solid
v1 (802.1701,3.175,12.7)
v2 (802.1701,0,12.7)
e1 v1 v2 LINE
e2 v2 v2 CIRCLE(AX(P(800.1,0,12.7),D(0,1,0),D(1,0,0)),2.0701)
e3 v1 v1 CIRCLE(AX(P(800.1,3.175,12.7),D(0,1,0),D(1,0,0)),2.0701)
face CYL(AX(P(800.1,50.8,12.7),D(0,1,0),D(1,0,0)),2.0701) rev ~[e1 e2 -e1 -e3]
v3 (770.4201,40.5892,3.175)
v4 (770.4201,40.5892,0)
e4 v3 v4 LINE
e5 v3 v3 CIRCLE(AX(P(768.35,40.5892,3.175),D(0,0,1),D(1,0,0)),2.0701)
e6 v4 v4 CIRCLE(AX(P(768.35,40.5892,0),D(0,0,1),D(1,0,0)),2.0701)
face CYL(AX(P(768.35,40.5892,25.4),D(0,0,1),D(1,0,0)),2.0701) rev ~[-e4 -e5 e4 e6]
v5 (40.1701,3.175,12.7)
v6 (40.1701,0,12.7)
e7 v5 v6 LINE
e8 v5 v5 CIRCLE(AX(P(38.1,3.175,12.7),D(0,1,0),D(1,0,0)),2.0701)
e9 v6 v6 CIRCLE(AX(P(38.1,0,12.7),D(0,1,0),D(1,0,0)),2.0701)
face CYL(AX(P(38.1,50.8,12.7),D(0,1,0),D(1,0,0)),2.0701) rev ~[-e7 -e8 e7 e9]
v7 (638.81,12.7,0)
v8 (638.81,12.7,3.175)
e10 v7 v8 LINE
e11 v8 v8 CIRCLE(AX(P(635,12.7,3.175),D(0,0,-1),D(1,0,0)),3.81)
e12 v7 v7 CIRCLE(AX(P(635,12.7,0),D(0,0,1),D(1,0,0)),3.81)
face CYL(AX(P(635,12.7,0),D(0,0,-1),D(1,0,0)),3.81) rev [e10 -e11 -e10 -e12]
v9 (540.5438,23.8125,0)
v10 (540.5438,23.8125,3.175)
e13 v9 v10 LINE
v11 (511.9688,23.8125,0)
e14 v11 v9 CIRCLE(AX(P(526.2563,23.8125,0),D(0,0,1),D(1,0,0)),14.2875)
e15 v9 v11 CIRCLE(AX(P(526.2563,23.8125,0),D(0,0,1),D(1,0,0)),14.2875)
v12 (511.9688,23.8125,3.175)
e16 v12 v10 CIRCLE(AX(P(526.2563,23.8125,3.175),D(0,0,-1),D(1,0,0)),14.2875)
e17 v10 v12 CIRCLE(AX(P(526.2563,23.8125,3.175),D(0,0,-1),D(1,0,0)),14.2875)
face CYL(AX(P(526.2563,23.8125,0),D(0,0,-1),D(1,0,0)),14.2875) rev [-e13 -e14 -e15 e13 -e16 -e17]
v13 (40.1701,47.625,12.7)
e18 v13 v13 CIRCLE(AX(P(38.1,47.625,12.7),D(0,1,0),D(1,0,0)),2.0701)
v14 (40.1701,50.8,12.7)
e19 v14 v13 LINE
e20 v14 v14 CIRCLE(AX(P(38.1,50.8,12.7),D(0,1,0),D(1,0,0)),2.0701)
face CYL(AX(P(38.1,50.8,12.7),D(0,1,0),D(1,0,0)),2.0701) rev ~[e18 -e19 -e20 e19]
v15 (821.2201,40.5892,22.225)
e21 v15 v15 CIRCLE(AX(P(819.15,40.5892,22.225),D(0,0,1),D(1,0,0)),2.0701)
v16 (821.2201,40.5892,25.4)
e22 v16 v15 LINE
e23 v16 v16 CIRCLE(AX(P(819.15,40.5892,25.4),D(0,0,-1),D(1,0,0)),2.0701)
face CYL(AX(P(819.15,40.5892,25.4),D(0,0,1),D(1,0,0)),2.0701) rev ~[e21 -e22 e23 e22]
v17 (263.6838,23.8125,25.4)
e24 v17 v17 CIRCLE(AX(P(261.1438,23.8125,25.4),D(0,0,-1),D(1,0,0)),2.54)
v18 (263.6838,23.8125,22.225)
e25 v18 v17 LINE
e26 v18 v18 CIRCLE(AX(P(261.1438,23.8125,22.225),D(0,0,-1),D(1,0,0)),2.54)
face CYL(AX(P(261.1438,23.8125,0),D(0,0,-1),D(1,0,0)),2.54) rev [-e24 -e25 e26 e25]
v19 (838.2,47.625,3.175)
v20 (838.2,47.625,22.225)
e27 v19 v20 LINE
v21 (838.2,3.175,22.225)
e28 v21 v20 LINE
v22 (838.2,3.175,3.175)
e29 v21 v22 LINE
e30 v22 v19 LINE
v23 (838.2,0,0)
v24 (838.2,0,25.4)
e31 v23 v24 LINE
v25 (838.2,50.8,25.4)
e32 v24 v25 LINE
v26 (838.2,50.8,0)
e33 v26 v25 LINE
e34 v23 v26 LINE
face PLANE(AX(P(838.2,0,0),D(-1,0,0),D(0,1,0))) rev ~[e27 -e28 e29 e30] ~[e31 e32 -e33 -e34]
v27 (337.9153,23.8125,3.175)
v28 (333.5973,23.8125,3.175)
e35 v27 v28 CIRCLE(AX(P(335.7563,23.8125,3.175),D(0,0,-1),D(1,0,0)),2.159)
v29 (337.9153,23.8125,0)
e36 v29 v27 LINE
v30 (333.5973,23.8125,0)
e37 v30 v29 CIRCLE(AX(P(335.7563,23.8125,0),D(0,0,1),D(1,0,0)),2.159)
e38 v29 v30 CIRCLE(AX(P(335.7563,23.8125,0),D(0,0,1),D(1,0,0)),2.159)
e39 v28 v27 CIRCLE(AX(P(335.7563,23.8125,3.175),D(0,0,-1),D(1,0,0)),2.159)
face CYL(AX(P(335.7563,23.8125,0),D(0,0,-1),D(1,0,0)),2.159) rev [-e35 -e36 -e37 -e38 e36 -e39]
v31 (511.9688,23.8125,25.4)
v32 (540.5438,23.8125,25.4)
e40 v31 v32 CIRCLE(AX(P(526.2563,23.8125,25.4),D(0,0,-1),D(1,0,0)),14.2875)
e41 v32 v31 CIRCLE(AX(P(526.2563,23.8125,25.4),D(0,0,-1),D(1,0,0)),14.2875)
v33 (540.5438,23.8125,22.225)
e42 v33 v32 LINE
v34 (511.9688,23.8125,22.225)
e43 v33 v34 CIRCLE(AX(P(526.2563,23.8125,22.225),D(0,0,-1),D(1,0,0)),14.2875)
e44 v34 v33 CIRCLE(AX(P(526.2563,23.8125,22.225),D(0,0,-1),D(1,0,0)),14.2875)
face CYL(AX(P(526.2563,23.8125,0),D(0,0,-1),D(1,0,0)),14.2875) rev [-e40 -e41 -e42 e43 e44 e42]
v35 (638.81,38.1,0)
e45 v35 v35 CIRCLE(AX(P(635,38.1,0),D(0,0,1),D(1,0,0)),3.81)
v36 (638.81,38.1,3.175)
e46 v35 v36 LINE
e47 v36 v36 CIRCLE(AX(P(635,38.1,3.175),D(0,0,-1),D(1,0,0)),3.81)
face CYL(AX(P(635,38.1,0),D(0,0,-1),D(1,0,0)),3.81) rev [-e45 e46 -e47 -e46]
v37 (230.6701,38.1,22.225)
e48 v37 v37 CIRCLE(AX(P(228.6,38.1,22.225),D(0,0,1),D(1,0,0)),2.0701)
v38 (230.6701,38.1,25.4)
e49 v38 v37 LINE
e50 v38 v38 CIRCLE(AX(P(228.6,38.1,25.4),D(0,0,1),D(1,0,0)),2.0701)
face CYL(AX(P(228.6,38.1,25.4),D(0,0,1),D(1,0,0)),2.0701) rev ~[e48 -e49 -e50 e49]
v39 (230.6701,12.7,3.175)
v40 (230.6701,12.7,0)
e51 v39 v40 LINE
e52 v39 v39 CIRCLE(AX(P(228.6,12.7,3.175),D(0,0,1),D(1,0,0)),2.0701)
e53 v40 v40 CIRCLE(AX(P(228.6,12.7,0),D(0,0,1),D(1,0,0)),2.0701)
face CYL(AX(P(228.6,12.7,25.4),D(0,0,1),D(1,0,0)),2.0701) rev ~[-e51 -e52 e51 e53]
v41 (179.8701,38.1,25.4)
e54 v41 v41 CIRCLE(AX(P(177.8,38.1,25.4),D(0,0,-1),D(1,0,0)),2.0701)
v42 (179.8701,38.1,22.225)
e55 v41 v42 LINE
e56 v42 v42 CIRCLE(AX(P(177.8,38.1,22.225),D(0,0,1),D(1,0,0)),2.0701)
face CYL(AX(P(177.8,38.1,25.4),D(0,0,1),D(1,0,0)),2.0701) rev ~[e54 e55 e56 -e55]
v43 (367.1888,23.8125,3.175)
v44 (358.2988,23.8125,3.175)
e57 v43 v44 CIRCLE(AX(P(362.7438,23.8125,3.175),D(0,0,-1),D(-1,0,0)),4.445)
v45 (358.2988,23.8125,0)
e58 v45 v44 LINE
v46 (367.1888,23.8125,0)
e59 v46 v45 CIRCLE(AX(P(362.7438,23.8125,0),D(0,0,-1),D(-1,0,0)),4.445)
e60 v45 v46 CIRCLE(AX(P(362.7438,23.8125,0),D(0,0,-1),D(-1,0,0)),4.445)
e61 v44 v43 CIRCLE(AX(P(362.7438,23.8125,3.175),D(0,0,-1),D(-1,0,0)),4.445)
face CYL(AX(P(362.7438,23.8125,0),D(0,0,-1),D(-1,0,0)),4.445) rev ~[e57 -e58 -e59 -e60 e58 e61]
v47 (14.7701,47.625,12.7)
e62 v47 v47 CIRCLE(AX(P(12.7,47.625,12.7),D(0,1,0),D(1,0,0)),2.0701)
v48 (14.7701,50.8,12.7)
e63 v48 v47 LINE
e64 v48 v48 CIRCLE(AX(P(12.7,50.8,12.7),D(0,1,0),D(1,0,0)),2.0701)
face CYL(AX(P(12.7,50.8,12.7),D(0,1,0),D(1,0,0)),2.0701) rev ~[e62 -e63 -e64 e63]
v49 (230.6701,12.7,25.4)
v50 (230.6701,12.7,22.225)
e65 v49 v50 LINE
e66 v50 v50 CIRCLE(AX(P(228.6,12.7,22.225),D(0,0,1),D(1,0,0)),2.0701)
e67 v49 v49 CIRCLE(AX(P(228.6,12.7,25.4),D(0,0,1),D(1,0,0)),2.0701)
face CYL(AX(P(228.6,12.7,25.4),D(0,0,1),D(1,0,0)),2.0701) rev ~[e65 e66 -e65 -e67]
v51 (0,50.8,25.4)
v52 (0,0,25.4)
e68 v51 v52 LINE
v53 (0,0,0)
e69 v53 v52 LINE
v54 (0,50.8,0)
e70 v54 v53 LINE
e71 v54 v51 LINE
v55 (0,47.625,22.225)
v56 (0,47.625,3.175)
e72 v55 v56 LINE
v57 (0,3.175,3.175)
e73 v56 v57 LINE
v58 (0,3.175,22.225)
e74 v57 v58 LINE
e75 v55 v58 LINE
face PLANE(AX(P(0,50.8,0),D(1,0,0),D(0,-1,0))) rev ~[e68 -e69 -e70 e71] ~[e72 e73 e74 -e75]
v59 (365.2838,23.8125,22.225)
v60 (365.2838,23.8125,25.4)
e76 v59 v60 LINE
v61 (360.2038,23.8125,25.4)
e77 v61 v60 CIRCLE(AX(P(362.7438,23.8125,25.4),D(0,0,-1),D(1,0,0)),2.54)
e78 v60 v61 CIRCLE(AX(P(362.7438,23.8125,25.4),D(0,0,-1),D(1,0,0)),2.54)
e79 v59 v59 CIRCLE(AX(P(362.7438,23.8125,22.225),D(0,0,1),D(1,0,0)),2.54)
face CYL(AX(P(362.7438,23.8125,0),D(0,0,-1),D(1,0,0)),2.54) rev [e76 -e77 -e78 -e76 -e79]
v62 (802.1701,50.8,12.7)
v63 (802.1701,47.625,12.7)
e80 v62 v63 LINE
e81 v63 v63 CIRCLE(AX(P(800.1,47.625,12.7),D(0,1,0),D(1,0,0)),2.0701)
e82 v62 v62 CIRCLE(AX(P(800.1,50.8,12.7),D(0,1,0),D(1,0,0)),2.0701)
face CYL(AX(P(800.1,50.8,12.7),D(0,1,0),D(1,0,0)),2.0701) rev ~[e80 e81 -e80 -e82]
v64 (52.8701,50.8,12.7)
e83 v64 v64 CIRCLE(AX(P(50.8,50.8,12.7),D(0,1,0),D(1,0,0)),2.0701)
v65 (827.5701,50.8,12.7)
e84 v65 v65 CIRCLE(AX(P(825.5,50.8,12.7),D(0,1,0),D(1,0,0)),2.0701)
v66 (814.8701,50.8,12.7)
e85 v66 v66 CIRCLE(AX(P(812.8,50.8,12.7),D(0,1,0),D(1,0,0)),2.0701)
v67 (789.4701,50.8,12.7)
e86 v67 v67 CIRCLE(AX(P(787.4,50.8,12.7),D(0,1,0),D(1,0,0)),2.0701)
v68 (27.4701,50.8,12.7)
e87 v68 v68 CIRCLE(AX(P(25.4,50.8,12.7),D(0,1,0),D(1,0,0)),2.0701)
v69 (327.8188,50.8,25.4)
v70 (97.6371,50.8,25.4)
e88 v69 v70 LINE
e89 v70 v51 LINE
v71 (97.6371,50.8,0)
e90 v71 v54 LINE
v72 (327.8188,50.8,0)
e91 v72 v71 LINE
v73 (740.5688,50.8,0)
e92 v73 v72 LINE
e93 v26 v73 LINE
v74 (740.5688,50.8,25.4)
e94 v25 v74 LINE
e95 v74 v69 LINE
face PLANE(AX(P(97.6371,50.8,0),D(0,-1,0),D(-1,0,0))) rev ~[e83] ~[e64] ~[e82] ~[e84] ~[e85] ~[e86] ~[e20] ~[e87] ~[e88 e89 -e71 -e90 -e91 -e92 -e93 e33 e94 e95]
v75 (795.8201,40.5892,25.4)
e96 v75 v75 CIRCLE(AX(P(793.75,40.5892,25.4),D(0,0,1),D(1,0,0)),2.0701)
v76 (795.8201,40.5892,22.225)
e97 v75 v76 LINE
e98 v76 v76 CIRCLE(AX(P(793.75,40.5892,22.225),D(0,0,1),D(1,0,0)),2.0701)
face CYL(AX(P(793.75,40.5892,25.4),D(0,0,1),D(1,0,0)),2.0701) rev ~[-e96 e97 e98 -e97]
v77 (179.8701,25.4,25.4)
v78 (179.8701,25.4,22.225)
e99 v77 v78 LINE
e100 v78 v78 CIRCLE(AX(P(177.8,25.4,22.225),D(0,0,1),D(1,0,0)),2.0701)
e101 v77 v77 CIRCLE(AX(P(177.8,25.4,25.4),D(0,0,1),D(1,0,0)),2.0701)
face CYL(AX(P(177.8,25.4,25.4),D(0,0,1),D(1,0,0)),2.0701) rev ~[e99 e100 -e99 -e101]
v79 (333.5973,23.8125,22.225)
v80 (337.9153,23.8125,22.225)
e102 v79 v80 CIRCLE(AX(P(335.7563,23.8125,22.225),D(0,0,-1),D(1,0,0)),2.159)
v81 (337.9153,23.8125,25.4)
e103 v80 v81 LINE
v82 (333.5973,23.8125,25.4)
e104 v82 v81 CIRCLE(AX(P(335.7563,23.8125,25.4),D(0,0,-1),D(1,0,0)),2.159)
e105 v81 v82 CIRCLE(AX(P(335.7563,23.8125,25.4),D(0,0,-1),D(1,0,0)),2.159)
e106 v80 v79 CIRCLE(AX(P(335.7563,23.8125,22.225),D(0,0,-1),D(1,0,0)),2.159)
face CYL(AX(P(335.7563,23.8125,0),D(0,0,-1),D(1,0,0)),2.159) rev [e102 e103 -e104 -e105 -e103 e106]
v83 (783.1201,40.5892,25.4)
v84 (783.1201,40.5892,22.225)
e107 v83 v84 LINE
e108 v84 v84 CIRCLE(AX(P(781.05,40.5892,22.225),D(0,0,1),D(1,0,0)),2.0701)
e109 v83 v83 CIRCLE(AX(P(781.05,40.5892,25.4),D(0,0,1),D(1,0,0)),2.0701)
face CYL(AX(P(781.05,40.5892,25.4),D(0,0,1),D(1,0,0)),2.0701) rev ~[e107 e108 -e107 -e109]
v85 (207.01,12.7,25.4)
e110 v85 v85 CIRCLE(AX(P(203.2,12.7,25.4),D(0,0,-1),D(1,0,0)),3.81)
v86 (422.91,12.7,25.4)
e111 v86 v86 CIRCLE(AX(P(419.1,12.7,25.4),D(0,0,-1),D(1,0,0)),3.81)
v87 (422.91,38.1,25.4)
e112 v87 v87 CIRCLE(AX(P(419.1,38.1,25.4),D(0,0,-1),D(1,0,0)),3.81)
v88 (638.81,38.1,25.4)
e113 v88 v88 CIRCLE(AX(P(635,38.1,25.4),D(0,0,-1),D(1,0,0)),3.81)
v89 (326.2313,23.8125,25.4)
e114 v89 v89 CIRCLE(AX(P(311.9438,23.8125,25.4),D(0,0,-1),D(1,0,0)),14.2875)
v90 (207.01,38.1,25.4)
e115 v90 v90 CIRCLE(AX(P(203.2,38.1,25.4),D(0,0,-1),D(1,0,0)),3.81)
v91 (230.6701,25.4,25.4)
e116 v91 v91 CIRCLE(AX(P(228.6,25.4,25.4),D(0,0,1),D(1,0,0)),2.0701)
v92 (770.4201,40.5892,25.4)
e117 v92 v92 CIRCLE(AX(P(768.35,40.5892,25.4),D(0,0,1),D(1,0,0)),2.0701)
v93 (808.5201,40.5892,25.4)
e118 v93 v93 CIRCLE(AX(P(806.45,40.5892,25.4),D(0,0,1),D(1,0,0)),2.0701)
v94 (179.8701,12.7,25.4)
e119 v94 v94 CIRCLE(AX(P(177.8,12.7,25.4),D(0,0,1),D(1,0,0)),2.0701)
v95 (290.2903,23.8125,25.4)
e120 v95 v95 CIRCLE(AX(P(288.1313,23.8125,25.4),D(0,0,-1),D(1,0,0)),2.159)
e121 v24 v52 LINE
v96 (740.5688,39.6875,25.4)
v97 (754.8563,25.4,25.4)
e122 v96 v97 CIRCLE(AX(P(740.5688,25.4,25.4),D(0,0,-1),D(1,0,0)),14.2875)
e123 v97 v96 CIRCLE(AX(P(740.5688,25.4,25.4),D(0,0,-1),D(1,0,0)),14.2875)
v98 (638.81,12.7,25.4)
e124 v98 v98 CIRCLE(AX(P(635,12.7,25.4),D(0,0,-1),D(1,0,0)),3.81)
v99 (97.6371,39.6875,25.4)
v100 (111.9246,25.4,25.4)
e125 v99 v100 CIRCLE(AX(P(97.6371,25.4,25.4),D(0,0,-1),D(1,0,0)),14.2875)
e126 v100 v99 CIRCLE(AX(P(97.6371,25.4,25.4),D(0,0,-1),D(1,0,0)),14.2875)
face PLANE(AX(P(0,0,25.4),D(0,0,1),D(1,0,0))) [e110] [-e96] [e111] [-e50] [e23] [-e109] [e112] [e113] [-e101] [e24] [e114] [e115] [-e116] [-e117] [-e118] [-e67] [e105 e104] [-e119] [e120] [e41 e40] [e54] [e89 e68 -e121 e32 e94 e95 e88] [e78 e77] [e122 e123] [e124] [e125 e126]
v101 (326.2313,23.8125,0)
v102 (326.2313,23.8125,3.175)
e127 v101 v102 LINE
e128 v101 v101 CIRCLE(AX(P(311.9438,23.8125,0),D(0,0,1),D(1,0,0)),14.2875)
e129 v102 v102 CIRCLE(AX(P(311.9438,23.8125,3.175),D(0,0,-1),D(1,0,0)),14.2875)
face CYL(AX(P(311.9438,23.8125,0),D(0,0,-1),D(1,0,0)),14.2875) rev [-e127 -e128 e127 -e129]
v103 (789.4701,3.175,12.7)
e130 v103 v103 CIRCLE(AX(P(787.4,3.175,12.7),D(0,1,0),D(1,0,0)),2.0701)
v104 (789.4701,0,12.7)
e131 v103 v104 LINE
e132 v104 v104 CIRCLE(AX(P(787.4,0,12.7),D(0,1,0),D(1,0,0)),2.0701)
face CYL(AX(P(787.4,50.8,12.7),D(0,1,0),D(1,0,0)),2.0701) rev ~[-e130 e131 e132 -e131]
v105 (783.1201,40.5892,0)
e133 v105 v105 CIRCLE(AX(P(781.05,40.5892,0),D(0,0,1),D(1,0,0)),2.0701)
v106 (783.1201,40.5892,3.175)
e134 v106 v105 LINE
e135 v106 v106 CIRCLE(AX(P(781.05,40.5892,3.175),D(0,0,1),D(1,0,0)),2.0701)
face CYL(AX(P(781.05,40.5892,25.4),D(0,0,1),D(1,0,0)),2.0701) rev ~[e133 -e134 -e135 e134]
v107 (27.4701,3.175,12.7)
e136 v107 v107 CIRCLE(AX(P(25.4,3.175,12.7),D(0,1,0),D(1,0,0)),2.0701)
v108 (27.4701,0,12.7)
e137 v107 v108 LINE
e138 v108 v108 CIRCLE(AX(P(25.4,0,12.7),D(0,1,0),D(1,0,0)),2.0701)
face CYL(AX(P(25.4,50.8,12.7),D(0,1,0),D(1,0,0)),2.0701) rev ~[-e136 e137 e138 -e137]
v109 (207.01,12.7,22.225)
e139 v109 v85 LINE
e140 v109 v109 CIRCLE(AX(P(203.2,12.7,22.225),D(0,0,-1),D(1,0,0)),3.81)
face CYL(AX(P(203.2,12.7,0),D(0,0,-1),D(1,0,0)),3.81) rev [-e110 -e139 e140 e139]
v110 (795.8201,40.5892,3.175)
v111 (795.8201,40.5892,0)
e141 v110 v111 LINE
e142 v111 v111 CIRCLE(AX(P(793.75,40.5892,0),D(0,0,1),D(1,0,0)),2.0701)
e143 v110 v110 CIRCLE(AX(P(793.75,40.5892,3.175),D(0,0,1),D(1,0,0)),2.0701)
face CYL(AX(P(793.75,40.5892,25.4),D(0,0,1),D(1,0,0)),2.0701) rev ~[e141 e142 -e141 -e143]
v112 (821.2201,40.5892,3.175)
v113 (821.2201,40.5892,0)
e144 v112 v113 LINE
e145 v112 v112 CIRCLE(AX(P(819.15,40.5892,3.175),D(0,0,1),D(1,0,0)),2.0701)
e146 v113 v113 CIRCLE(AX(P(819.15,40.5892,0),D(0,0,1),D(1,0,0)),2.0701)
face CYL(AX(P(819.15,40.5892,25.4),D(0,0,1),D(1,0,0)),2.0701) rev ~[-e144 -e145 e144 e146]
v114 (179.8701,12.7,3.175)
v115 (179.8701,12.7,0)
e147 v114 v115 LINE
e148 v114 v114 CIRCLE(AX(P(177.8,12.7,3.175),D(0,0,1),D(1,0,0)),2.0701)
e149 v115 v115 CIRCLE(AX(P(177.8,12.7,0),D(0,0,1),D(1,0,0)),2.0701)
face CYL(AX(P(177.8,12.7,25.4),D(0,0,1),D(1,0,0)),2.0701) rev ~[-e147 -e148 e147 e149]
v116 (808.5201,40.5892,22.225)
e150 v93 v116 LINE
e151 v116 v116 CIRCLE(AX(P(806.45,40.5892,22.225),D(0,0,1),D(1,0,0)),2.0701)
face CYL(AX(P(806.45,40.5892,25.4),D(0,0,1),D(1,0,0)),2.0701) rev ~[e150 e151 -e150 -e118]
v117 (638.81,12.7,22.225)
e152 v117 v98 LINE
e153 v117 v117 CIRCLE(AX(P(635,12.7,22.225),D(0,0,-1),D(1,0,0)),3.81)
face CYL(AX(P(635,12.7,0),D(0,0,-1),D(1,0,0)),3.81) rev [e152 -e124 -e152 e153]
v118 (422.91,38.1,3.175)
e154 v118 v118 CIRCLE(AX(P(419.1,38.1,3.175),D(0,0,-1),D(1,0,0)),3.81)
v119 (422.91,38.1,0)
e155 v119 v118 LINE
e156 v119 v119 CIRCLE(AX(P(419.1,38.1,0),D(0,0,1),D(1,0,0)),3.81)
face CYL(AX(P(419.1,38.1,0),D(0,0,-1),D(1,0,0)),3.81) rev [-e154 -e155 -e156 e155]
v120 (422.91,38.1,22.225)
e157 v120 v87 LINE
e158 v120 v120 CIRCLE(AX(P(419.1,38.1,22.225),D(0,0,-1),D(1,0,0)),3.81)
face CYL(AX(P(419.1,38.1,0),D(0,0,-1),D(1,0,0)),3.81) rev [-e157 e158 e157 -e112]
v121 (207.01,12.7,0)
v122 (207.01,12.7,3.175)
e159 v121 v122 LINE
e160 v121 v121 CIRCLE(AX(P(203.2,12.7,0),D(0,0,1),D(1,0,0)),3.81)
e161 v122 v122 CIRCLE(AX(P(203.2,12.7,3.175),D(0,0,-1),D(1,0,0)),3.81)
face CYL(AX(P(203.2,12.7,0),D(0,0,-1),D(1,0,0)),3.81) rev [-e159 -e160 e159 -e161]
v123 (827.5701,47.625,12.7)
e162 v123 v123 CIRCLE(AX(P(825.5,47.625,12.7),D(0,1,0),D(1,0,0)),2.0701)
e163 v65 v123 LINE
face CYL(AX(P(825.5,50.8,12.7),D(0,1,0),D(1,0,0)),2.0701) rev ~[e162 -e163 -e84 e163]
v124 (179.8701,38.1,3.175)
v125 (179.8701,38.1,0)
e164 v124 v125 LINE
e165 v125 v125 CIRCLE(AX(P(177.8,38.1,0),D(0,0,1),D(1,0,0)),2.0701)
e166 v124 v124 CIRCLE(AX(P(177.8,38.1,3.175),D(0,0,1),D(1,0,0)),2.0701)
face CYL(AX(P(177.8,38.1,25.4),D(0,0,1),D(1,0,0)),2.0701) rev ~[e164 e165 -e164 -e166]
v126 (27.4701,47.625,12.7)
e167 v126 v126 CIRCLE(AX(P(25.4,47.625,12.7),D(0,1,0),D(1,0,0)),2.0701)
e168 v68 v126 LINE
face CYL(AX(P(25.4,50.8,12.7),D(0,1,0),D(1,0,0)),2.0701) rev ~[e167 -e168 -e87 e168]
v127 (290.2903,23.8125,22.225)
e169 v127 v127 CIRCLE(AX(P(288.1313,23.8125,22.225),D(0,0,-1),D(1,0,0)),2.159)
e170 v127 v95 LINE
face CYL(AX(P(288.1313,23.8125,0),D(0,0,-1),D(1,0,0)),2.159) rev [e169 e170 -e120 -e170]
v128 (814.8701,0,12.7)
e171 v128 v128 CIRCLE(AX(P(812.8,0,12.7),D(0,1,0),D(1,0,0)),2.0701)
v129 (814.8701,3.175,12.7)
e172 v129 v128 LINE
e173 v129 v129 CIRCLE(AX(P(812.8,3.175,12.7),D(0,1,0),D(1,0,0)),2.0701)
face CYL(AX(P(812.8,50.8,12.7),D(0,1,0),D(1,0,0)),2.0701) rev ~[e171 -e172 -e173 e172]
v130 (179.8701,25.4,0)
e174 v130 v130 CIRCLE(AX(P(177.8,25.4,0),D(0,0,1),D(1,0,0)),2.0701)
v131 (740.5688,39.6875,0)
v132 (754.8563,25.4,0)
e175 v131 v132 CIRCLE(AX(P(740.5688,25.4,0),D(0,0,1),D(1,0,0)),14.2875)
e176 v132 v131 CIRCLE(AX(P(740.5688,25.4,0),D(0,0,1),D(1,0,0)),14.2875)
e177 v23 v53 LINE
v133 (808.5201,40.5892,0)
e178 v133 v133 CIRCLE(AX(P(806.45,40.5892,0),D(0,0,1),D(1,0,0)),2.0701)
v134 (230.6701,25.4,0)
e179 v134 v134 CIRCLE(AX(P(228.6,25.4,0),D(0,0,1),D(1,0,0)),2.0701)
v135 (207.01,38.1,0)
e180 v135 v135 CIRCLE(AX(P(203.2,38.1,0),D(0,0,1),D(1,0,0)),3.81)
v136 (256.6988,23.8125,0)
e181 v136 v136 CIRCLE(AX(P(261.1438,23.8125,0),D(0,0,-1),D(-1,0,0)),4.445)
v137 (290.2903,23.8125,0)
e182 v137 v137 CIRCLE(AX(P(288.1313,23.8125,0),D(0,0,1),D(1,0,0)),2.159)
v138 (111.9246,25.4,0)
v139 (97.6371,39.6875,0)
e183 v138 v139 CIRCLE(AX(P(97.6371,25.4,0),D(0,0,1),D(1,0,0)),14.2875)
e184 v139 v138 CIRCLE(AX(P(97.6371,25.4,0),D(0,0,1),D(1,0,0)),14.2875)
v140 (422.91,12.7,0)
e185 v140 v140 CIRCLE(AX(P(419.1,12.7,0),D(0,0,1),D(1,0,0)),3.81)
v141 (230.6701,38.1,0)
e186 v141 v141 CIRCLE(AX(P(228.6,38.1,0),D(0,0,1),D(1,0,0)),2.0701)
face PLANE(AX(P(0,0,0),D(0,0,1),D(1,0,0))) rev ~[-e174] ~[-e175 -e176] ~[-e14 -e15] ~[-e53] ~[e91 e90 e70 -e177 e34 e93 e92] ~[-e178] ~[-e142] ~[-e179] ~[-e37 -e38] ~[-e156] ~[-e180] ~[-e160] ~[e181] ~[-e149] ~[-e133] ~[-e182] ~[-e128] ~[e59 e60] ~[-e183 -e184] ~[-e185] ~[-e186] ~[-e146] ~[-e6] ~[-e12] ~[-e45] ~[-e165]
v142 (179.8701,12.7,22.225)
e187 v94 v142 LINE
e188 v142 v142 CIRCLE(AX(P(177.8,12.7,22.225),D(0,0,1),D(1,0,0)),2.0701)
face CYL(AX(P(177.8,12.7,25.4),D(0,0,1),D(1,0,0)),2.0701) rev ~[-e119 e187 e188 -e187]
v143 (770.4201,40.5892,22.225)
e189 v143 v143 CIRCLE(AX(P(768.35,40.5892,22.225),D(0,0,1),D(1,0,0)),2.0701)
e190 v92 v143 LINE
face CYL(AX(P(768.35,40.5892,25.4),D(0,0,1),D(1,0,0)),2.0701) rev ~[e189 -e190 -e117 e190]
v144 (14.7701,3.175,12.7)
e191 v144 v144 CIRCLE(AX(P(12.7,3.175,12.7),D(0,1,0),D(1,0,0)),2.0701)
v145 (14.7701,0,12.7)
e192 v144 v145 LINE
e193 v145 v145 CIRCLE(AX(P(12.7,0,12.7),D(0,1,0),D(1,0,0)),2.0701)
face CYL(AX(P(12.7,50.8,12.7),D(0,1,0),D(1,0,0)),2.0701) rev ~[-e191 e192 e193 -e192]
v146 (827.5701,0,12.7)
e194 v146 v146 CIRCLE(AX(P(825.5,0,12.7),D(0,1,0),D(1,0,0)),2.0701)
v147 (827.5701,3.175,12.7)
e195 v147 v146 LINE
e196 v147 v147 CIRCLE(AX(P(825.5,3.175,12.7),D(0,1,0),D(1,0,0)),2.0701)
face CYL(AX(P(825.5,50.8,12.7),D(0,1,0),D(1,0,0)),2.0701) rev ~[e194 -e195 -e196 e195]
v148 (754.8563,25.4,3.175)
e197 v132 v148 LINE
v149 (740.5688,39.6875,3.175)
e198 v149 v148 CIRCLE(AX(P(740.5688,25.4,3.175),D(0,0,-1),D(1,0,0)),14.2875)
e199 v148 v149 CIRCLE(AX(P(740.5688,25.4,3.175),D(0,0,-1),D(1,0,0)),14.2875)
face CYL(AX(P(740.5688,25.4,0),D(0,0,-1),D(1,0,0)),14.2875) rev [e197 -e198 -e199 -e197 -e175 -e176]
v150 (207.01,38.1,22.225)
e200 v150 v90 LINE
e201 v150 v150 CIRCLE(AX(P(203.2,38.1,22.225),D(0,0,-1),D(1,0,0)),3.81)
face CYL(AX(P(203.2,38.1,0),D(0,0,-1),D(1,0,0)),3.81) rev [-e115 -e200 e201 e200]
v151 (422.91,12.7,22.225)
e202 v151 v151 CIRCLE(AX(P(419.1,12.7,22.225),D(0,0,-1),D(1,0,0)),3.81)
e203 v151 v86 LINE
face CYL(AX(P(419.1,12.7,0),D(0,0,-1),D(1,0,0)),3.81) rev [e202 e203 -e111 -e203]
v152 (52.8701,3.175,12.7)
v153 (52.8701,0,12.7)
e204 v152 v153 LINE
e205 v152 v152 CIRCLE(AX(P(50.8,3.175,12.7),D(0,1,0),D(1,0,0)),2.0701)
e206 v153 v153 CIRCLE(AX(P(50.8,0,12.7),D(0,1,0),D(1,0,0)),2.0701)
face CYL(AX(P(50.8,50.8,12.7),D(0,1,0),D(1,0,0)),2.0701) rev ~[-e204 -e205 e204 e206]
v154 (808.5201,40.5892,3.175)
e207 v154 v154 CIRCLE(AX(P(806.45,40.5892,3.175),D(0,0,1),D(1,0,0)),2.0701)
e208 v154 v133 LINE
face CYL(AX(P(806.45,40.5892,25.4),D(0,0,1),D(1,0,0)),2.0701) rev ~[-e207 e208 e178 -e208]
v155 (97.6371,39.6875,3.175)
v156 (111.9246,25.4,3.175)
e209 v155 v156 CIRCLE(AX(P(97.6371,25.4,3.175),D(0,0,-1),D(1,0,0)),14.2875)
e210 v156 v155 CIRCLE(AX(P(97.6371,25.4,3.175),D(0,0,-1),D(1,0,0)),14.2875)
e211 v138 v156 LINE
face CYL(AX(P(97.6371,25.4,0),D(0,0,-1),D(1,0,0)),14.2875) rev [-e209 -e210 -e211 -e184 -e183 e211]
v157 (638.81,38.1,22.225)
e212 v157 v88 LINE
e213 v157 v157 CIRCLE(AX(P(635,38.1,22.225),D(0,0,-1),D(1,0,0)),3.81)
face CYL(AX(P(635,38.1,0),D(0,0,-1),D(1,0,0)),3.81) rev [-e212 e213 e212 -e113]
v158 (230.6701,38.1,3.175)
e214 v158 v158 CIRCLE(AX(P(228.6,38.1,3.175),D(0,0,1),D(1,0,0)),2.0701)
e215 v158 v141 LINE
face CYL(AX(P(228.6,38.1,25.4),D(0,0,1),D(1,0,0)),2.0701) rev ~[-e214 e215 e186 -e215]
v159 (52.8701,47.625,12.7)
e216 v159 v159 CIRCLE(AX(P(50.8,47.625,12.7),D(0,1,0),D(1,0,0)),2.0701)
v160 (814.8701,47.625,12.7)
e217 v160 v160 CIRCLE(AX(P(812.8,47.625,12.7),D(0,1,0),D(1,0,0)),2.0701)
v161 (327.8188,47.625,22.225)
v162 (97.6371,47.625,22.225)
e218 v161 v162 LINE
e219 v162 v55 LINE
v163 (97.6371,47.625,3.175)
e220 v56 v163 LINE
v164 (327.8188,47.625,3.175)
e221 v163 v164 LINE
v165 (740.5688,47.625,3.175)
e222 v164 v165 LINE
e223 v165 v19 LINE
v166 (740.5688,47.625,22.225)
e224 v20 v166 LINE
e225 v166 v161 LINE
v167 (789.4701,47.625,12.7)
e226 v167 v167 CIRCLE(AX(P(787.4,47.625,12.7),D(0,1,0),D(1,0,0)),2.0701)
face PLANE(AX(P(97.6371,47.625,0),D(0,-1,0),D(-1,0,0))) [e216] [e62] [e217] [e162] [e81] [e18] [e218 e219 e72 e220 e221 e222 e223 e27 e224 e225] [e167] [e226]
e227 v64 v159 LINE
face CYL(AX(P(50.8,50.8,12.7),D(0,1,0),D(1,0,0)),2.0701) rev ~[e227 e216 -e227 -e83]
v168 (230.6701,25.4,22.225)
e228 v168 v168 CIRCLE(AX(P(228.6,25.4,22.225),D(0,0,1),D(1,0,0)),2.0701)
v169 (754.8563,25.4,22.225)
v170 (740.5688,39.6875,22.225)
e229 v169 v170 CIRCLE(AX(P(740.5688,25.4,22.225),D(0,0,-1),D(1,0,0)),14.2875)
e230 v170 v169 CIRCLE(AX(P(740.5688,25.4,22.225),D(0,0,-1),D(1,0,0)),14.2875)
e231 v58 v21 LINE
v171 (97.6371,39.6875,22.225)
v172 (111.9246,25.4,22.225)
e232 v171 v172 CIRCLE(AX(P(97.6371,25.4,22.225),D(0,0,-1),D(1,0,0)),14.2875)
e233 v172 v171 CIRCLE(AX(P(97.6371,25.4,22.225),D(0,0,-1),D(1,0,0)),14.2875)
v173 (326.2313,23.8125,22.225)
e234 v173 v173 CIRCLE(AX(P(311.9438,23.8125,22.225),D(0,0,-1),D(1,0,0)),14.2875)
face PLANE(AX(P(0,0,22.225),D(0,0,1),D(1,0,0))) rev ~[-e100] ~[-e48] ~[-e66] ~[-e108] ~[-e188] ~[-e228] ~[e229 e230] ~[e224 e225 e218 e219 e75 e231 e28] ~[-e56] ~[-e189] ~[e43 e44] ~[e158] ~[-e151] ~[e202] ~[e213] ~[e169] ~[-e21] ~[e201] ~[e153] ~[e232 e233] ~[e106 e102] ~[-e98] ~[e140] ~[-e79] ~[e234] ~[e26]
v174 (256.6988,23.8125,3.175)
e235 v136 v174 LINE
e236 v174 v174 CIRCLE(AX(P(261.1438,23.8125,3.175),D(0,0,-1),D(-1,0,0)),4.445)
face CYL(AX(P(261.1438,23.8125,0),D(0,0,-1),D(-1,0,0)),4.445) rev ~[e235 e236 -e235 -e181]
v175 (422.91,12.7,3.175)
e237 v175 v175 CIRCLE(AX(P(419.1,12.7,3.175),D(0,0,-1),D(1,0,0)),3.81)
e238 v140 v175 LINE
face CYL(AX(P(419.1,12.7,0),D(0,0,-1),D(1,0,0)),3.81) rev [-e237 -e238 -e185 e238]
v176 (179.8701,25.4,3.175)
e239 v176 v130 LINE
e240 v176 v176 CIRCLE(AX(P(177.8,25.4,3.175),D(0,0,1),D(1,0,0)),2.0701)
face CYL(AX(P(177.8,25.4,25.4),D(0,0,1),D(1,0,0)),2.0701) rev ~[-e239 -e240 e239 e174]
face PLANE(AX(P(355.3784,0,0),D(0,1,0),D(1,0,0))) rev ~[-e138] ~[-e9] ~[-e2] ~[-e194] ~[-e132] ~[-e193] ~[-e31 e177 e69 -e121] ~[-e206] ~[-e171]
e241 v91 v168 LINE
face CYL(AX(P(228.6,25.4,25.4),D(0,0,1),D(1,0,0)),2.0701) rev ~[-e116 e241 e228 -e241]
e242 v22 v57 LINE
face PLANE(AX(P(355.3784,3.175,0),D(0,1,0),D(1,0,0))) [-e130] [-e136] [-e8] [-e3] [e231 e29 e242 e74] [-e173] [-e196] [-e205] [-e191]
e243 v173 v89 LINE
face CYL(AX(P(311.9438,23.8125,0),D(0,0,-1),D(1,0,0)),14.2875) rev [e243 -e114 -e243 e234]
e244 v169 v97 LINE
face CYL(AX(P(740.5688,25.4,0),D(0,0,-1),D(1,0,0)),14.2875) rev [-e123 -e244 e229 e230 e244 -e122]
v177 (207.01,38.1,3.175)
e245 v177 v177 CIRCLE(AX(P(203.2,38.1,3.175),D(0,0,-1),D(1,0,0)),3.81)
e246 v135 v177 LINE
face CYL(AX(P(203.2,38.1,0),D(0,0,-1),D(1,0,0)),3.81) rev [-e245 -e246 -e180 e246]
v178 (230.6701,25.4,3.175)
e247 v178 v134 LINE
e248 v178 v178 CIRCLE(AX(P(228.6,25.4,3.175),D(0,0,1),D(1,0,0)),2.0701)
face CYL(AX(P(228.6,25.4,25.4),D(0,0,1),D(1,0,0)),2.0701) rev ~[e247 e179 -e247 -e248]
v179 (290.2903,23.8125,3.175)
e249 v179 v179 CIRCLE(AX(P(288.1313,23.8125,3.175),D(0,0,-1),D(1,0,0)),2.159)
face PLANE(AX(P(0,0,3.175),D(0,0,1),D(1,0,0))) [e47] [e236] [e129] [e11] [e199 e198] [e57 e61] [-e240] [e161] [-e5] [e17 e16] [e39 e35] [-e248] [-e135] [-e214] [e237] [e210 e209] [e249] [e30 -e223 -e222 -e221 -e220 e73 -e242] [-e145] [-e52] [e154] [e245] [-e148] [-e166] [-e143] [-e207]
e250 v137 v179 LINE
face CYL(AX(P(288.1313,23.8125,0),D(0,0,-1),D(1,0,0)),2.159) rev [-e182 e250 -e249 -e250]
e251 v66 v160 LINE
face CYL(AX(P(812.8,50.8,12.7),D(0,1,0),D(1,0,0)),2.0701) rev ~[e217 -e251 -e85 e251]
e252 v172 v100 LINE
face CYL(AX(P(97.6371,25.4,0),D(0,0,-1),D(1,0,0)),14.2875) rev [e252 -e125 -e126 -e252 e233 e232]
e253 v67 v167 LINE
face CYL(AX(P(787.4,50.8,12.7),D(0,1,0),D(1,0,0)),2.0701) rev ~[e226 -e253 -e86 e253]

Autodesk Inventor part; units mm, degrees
ref_plane "YZ Plane" through (0, 0, 0) normal (1, 0, 0) x (0, 1, 0)
ref_plane "XZ Plane" through (0, 0, 0) normal (0, 1, 0) x (-1, 0, 0)
ref_plane "XY Plane" through (0, 0, 0) normal (0, 0, 1) x (1, 0, 0)
sketch "Sketch1" plane through (0, 0, 0) normal (0, 1, 0) x (-1, 0, 0)
  point P0 (0, 0)
sketch "Sketch2" plane through (0, 0, 0) normal (0, 0, 1) x (1, 0, 0)
  line L0 (0, 0) -> (838.2, 0)
  line L1 (838.2, 0) -> (838.2, 50.8)
  line L2 (838.2, 50.8) -> (0, 50.8)
  line L3 (0, 50.8) -> (0, 0)
  circle A0 centre (740.5688, 25.4) radius 14.2875
  circle A1 centre (97.6371, 25.4) radius 14.2875
  line L4 (0, 25.4) -> (838.2, 25.4) construction
  circle A2 centre (311.9438, 23.8125) radius 14.2875
  circle A3 centre (288.1313, 23.8125) radius 2.159
  circle A4 centre (335.7563, 23.8125) radius 2.159
  circle A5 centre (362.7438, 23.8125) radius 2.54
  circle A6 centre (261.1438, 23.8125) radius 2.54
  circle A7 centre (327.8188, 23.8125) radius 7.9375 construction
  line L5 (97.6371, 25.4) -> (97.6371, 90.8259)
  line L6 (740.5688, 25.4) -> (740.5688, 86.7676)
  line L7 (327.8188, 23.8125) -> (327.8188, 91.6838)
  circle A8 centre (526.2563, 23.8125) radius 14.2875
  line L8 (526.2563, 23.8125) -> (327.8188, 23.8125)
  line L9 (97.6371, 25.4) -> (97.6371, 0) construction
  line L10 (311.9438, 23.8125) -> (311.9438, 0) construction
  line L11 (526.2563, 23.8125) -> (526.2563, 0) construction
  line L12 (740.5688, 25.4) -> (740.5687, 0) construction
  line L13 (740.5687, 0) -> (526.2563, 0) construction
  line L14 (311.9438, 0) -> (355.3784, 0)
  line L15 (526.2563, 0) -> (311.9438, 0) construction
  line L16 (97.6371, 0) -> (311.9438, 0) construction
  line L17 (204.7904, 0) -> (204.7904, 50.8) construction
  line L18 (633.4125, 0) -> (633.4125, 50.8) construction
  line L19 (419.1, 0) -> (419.1, 50.8) construction
  line L20 (526.2563, 0) -> (419.1, 0) construction
  line L21 (0, 25.4) -> (0, 0) construction
  line L22 (0, 25.4) -> (0, 50.8) construction
  line L23 (0, 38.1) -> (838.2, 38.1) construction
  line L24 (0, 0) -> (0, 25.4) construction
  line L25 (0, 12.7) -> (838.2, 12.7) construction
  circle A9 centre (419.1, 38.1) radius 3.81
  circle A10 centre (419.1, 12.7) radius 3.81
  line L26 (311.9438, 23.8125) -> (526.2563, 23.8125)
  line L27 (419.1, 23.8125) -> (419.1, 31.9987)
  circle A11 centre (203.2, 38.1) radius 3.81
  circle A12 centre (203.2, 12.7) radius 3.81
  circle A13 centre (635, 38.1) radius 3.81
  circle A14 centre (635, 12.7) radius 3.81
  point P0 (190.5066, 50.8)
  dimension "d0" = 50.8
  dimension "d1" = 838.2
  dimension "d9" = 28.575
  dimension "d10" = 28.575
  dimension "d13" = 23.8125
  dimension "d14" = 23.8125
  dimension "d17" = 28.575
  dimension "d18" = 4.318
  dimension "d19" = 4.318
  dimension "d20" = 50.8
  dimension "d21" = 50.8
  dimension "d22" = 5.08
  dimension "d23" = 5.08
  dimension "d70" = 214.3125
  dimension "d72" = 28.575
  dimension "d73" = 214.3125
  dimension "d74" = 214.3125
  dimension "d99" = 7.62
  dimension "d100" = 7.62
  dimension "d113" = 419.1
  dimension "d114" = 1.5875
  dimension "d116" = 7.62
  dimension "d117" = 7.62
  dimension "d118" = 7.62
  dimension "d119" = 7.62
  dimension "d120" = 203.2
  dimension "d121" = 203.2
  dimension "d122" = 203.2
  dimension "d123" = 203.2
extrude "Extrusion1" add sketch "Sketch2" along normal blind 25.4 contours A0 | A8 | A5 L8 | L8 A5 | A4 L8 | L8 A4 | A2 | A1 | L3 L2 L1 L0 | A3 | A6 | A9 | A10 | A11 | A12 | A13 | A14
shell "Shell1" thickness 3.175 removed faces 2 at (0, 33.8667, 16.9333) at (838.2, 16.9333, 8.4667)
extrude "Extrusion2" cut sketch "Sketch2" along normal blind 174.9425 contours A0 | A8 | A5 L8 | L8 A5 | A4 L8 | L8 A4 | A2 | A1 | A3 | A6 | A9 | A10 | A11 | A12 | A13 | A14
sketch "Sketch3" plane through (0, 0, 0) normal (0, 0, -1) x (-1, 0, 0)
  circle A0 centre (-261.1438, 23.8125) radius 2.54 projected
  circle A1 centre (-362.7438, 23.8125) radius 2.54 projected
  circle A2 centre (-362.7438, 23.8125) radius 2.54 projected
  circle A3 centre (-362.7438, 23.8125) radius 4.445
  circle A4 centre (-261.1438, 23.8125) radius 4.445
  point P0 (0, 0)
  dimension "d29" = 8.89
  dimension "d30" = 8.89
extrude "Extrusion3" cut sketch "Sketch3" against normal up to surface (22.225 mm away) contours A0 | A3 | A4
sketch "Sketch5" plane through (0, 50.8, 0) normal (0, 1, 0) x (1, 0, 0)
  point P0 (0, 0)
sketch "Sketch6" plane through (0, 50.8, 0) normal (0, 1, 0) x (1, 0, 0)
  point P0 (0, 0)
sketch "Sketch7" plane through (0, 50.8, 0) normal (0, 1, 0) x (1, 0, 0)
  line L0 (0, -22.225) -> (0, -3.175) construction
  line L1 (0, -12.7) -> (838.2, -12.7) construction
  line L2 (838.2, 0) -> (838.2, -25.4) construction
  circle A0 centre (0, -12.7) radius 2.0701
  circle A1 centre (12.7, -12.7) radius 2.0701
  circle A2 centre (25.4, -12.7) radius 2.0701
  circle A3 centre (38.1, -12.7) radius 2.0701
  circle A4 centre (50.8, -12.7) radius 2.0701
  line L3 (419.1, -12.7) -> (419.1, -25.4) construction
  circle A5 centre (419.1, -12.7) radius 2.0701
  circle A6 centre (431.8, -12.7) radius 2.0701
  circle A7 centre (444.5, -12.7) radius 2.0701
  circle A8 centre (457.2, -12.7) radius 2.0701
  circle A9 centre (406.4, -12.7) radius 2.0701
  circle A10 centre (419.1, -12.7) radius 2.0701
  circle A11 centre (431.8, -12.7) radius 2.0701
  circle A12 centre (444.5, -12.7) radius 2.0701
  circle A13 centre (393.7, -12.7) radius 2.0701
  circle A14 centre (406.4, -12.7) radius 2.0701
  circle A15 centre (419.1, -12.7) radius 2.0701
  circle A16 centre (431.8, -12.7) radius 2.0701
  circle A17 centre (381, -12.7) radius 2.0701
  circle A18 centre (393.7, -12.7) radius 2.0701
  circle A19 centre (406.4, -12.7) radius 2.0701
  circle A20 centre (419.1, -12.7) radius 2.0701
  circle A21 centre (825.5, -12.7) radius 2.0701
  circle A22 centre (812.8, -12.7) radius 2.0701
  circle A23 centre (800.1, -12.7) radius 2.0701
  circle A24 centre (787.4, -12.7) radius 2.0701
  point P0 (0, 0)
  dimension "d77" = 4.1402
  dimension "d80" = 12.7
  dimension "d85" = 4.1402
  dimension "d88" = 12.7
  dimension "d91" = 12.7
extrude "Extrusion5" cut sketch "Sketch7" against normal through all contours A1 | A2 | A3 | A4 | A21 | A22 | A23 | A24
sketch "Sketch8" plane through (0, 0, 25.4) normal (0, 0, 1) x (1, 0, 0)
  point P0 (0, 0)
sketch "Sketch9" plane through (0, 0, 25.4) normal (0, 0, 1) x (1, 0, 0)
  line L0 (0, 0) -> (838.2, 0) projected
  line L1 (838.2, 0) -> (819.15, 0)
  line L2 (819.15, 0) -> (819.15, 50.8)
  line L3 (838.2, 50.8) -> (0, 50.8) projected
  line L4 (819.15, 50.8) -> (819.15, 53.2892)
  line L5 (819.15, 53.2892) -> (819.15, 41.2718)
  line L6 (819.15, 53.2892) -> (819.15, 40.5892)
  line L7 (819.15, 40.5892) -> (806.45, 40.5892)
  circle A0 centre (819.15, 40.5892) radius 2.0701
  circle A1 centre (806.45, 40.5892) radius 2.0701
  circle A2 centre (793.75, 40.5892) radius 2.0701
  circle A3 centre (781.05, 40.5892) radius 2.0701
  circle A4 centre (768.35, 40.5892) radius 2.0701
  dimension "d124" = 19.05
  dimension "d125" = 2.4892
  dimension "d126" = 12.7
  dimension "d127" = 12.7
  dimension "d128" = 4.1402
  dimension "d131" = 12.7
extrude "Extrusion6" cut sketch "Sketch9" against normal through all
sketch "Sketch10" plane through (0, 0, 25.4) normal (0, 0, 1) x (1, 0, 0)
  line L0 (838.2, 50.8) -> (0, 50.8) projected
  line L1 (0, 50.8) -> (0, 38.1)
  line L2 (0, 47.625) -> (0, 3.175) projected
  line L3 (0, 38.1) -> (203.2, 38.1)
  circle A0 centre (203.2, 38.1) radius 2.0701
  circle A1 centre (215.9, 38.1) radius 2.0701
  circle A2 centre (228.6, 38.1) radius 2.0701
  circle A3 centre (241.3, 38.1) radius 2.0701
  circle A4 centre (190.5, 38.1) radius 2.0701
  circle A5 centre (203.2, 38.1) radius 2.0701
  circle A6 centre (215.9, 38.1) radius 2.0701
  circle A7 centre (228.6, 38.1) radius 2.0701
  circle A8 centre (177.8, 38.1) radius 2.0701
  circle A9 centre (190.5, 38.1) radius 2.0701
  circle A10 centre (203.2, 38.1) radius 2.0701
  circle A11 centre (215.9, 38.1) radius 2.0701
  circle A12 centre (165.1, 38.1) radius 2.0701
  circle A13 centre (177.8, 38.1) radius 2.0701
  circle A14 centre (190.5, 38.1) radius 2.0701
  circle A15 centre (203.2, 38.1) radius 2.0701
  circle A16 centre (165.1, 25.4) radius 2.0701
  circle A17 centre (177.8, 25.4) radius 2.0701
  circle A18 centre (190.5, 25.4) radius 2.0701
  circle A19 centre (203.2, 25.4) radius 2.0701
  circle A20 centre (215.9, 25.4) radius 2.0701
  circle A21 centre (228.6, 25.4) radius 2.0701
  circle A22 centre (241.3, 25.4) radius 2.0701
  circle A23 centre (165.1, 12.7) radius 2.0701
  circle A24 centre (177.8, 12.7) radius 2.0701
  circle A25 centre (190.5, 12.7) radius 2.0701
  circle A26 centre (203.2, 12.7) radius 2.0701
  circle A27 centre (215.9, 12.7) radius 2.0701
  circle A28 centre (228.6, 12.7) radius 2.0701
  circle A29 centre (241.3, 12.7) radius 2.0701
  circle A30 centre (165.1, 0) radius 2.0701
  circle A31 centre (177.8, 0) radius 2.0701
  circle A32 centre (190.5, 0) radius 2.0701
  circle A33 centre (203.2, 0) radius 2.0701
  circle A34 centre (215.9, 0) radius 2.0701
  circle A35 centre (228.6, 0) radius 2.0701
  circle A36 centre (241.3, 0) radius 2.0701
  point P0 (0, 0)
  dimension "d138" = 12.7
  dimension "d139" = 203.2
  dimension "d140" = 4.1402
  dimension "d143" = 12.7
  dimension "d146" = 12.7
  dimension "d151" = 12.7
extrude "Extrusion7" cut sketch "Sketch10" against normal through all contours A8 L3 | L3 A8 | A2 | A17 | A21 | A24 | A28
equation "\"d70\" = d73"
properties part number "Chassis side 1" material "Aluminum 6061"
